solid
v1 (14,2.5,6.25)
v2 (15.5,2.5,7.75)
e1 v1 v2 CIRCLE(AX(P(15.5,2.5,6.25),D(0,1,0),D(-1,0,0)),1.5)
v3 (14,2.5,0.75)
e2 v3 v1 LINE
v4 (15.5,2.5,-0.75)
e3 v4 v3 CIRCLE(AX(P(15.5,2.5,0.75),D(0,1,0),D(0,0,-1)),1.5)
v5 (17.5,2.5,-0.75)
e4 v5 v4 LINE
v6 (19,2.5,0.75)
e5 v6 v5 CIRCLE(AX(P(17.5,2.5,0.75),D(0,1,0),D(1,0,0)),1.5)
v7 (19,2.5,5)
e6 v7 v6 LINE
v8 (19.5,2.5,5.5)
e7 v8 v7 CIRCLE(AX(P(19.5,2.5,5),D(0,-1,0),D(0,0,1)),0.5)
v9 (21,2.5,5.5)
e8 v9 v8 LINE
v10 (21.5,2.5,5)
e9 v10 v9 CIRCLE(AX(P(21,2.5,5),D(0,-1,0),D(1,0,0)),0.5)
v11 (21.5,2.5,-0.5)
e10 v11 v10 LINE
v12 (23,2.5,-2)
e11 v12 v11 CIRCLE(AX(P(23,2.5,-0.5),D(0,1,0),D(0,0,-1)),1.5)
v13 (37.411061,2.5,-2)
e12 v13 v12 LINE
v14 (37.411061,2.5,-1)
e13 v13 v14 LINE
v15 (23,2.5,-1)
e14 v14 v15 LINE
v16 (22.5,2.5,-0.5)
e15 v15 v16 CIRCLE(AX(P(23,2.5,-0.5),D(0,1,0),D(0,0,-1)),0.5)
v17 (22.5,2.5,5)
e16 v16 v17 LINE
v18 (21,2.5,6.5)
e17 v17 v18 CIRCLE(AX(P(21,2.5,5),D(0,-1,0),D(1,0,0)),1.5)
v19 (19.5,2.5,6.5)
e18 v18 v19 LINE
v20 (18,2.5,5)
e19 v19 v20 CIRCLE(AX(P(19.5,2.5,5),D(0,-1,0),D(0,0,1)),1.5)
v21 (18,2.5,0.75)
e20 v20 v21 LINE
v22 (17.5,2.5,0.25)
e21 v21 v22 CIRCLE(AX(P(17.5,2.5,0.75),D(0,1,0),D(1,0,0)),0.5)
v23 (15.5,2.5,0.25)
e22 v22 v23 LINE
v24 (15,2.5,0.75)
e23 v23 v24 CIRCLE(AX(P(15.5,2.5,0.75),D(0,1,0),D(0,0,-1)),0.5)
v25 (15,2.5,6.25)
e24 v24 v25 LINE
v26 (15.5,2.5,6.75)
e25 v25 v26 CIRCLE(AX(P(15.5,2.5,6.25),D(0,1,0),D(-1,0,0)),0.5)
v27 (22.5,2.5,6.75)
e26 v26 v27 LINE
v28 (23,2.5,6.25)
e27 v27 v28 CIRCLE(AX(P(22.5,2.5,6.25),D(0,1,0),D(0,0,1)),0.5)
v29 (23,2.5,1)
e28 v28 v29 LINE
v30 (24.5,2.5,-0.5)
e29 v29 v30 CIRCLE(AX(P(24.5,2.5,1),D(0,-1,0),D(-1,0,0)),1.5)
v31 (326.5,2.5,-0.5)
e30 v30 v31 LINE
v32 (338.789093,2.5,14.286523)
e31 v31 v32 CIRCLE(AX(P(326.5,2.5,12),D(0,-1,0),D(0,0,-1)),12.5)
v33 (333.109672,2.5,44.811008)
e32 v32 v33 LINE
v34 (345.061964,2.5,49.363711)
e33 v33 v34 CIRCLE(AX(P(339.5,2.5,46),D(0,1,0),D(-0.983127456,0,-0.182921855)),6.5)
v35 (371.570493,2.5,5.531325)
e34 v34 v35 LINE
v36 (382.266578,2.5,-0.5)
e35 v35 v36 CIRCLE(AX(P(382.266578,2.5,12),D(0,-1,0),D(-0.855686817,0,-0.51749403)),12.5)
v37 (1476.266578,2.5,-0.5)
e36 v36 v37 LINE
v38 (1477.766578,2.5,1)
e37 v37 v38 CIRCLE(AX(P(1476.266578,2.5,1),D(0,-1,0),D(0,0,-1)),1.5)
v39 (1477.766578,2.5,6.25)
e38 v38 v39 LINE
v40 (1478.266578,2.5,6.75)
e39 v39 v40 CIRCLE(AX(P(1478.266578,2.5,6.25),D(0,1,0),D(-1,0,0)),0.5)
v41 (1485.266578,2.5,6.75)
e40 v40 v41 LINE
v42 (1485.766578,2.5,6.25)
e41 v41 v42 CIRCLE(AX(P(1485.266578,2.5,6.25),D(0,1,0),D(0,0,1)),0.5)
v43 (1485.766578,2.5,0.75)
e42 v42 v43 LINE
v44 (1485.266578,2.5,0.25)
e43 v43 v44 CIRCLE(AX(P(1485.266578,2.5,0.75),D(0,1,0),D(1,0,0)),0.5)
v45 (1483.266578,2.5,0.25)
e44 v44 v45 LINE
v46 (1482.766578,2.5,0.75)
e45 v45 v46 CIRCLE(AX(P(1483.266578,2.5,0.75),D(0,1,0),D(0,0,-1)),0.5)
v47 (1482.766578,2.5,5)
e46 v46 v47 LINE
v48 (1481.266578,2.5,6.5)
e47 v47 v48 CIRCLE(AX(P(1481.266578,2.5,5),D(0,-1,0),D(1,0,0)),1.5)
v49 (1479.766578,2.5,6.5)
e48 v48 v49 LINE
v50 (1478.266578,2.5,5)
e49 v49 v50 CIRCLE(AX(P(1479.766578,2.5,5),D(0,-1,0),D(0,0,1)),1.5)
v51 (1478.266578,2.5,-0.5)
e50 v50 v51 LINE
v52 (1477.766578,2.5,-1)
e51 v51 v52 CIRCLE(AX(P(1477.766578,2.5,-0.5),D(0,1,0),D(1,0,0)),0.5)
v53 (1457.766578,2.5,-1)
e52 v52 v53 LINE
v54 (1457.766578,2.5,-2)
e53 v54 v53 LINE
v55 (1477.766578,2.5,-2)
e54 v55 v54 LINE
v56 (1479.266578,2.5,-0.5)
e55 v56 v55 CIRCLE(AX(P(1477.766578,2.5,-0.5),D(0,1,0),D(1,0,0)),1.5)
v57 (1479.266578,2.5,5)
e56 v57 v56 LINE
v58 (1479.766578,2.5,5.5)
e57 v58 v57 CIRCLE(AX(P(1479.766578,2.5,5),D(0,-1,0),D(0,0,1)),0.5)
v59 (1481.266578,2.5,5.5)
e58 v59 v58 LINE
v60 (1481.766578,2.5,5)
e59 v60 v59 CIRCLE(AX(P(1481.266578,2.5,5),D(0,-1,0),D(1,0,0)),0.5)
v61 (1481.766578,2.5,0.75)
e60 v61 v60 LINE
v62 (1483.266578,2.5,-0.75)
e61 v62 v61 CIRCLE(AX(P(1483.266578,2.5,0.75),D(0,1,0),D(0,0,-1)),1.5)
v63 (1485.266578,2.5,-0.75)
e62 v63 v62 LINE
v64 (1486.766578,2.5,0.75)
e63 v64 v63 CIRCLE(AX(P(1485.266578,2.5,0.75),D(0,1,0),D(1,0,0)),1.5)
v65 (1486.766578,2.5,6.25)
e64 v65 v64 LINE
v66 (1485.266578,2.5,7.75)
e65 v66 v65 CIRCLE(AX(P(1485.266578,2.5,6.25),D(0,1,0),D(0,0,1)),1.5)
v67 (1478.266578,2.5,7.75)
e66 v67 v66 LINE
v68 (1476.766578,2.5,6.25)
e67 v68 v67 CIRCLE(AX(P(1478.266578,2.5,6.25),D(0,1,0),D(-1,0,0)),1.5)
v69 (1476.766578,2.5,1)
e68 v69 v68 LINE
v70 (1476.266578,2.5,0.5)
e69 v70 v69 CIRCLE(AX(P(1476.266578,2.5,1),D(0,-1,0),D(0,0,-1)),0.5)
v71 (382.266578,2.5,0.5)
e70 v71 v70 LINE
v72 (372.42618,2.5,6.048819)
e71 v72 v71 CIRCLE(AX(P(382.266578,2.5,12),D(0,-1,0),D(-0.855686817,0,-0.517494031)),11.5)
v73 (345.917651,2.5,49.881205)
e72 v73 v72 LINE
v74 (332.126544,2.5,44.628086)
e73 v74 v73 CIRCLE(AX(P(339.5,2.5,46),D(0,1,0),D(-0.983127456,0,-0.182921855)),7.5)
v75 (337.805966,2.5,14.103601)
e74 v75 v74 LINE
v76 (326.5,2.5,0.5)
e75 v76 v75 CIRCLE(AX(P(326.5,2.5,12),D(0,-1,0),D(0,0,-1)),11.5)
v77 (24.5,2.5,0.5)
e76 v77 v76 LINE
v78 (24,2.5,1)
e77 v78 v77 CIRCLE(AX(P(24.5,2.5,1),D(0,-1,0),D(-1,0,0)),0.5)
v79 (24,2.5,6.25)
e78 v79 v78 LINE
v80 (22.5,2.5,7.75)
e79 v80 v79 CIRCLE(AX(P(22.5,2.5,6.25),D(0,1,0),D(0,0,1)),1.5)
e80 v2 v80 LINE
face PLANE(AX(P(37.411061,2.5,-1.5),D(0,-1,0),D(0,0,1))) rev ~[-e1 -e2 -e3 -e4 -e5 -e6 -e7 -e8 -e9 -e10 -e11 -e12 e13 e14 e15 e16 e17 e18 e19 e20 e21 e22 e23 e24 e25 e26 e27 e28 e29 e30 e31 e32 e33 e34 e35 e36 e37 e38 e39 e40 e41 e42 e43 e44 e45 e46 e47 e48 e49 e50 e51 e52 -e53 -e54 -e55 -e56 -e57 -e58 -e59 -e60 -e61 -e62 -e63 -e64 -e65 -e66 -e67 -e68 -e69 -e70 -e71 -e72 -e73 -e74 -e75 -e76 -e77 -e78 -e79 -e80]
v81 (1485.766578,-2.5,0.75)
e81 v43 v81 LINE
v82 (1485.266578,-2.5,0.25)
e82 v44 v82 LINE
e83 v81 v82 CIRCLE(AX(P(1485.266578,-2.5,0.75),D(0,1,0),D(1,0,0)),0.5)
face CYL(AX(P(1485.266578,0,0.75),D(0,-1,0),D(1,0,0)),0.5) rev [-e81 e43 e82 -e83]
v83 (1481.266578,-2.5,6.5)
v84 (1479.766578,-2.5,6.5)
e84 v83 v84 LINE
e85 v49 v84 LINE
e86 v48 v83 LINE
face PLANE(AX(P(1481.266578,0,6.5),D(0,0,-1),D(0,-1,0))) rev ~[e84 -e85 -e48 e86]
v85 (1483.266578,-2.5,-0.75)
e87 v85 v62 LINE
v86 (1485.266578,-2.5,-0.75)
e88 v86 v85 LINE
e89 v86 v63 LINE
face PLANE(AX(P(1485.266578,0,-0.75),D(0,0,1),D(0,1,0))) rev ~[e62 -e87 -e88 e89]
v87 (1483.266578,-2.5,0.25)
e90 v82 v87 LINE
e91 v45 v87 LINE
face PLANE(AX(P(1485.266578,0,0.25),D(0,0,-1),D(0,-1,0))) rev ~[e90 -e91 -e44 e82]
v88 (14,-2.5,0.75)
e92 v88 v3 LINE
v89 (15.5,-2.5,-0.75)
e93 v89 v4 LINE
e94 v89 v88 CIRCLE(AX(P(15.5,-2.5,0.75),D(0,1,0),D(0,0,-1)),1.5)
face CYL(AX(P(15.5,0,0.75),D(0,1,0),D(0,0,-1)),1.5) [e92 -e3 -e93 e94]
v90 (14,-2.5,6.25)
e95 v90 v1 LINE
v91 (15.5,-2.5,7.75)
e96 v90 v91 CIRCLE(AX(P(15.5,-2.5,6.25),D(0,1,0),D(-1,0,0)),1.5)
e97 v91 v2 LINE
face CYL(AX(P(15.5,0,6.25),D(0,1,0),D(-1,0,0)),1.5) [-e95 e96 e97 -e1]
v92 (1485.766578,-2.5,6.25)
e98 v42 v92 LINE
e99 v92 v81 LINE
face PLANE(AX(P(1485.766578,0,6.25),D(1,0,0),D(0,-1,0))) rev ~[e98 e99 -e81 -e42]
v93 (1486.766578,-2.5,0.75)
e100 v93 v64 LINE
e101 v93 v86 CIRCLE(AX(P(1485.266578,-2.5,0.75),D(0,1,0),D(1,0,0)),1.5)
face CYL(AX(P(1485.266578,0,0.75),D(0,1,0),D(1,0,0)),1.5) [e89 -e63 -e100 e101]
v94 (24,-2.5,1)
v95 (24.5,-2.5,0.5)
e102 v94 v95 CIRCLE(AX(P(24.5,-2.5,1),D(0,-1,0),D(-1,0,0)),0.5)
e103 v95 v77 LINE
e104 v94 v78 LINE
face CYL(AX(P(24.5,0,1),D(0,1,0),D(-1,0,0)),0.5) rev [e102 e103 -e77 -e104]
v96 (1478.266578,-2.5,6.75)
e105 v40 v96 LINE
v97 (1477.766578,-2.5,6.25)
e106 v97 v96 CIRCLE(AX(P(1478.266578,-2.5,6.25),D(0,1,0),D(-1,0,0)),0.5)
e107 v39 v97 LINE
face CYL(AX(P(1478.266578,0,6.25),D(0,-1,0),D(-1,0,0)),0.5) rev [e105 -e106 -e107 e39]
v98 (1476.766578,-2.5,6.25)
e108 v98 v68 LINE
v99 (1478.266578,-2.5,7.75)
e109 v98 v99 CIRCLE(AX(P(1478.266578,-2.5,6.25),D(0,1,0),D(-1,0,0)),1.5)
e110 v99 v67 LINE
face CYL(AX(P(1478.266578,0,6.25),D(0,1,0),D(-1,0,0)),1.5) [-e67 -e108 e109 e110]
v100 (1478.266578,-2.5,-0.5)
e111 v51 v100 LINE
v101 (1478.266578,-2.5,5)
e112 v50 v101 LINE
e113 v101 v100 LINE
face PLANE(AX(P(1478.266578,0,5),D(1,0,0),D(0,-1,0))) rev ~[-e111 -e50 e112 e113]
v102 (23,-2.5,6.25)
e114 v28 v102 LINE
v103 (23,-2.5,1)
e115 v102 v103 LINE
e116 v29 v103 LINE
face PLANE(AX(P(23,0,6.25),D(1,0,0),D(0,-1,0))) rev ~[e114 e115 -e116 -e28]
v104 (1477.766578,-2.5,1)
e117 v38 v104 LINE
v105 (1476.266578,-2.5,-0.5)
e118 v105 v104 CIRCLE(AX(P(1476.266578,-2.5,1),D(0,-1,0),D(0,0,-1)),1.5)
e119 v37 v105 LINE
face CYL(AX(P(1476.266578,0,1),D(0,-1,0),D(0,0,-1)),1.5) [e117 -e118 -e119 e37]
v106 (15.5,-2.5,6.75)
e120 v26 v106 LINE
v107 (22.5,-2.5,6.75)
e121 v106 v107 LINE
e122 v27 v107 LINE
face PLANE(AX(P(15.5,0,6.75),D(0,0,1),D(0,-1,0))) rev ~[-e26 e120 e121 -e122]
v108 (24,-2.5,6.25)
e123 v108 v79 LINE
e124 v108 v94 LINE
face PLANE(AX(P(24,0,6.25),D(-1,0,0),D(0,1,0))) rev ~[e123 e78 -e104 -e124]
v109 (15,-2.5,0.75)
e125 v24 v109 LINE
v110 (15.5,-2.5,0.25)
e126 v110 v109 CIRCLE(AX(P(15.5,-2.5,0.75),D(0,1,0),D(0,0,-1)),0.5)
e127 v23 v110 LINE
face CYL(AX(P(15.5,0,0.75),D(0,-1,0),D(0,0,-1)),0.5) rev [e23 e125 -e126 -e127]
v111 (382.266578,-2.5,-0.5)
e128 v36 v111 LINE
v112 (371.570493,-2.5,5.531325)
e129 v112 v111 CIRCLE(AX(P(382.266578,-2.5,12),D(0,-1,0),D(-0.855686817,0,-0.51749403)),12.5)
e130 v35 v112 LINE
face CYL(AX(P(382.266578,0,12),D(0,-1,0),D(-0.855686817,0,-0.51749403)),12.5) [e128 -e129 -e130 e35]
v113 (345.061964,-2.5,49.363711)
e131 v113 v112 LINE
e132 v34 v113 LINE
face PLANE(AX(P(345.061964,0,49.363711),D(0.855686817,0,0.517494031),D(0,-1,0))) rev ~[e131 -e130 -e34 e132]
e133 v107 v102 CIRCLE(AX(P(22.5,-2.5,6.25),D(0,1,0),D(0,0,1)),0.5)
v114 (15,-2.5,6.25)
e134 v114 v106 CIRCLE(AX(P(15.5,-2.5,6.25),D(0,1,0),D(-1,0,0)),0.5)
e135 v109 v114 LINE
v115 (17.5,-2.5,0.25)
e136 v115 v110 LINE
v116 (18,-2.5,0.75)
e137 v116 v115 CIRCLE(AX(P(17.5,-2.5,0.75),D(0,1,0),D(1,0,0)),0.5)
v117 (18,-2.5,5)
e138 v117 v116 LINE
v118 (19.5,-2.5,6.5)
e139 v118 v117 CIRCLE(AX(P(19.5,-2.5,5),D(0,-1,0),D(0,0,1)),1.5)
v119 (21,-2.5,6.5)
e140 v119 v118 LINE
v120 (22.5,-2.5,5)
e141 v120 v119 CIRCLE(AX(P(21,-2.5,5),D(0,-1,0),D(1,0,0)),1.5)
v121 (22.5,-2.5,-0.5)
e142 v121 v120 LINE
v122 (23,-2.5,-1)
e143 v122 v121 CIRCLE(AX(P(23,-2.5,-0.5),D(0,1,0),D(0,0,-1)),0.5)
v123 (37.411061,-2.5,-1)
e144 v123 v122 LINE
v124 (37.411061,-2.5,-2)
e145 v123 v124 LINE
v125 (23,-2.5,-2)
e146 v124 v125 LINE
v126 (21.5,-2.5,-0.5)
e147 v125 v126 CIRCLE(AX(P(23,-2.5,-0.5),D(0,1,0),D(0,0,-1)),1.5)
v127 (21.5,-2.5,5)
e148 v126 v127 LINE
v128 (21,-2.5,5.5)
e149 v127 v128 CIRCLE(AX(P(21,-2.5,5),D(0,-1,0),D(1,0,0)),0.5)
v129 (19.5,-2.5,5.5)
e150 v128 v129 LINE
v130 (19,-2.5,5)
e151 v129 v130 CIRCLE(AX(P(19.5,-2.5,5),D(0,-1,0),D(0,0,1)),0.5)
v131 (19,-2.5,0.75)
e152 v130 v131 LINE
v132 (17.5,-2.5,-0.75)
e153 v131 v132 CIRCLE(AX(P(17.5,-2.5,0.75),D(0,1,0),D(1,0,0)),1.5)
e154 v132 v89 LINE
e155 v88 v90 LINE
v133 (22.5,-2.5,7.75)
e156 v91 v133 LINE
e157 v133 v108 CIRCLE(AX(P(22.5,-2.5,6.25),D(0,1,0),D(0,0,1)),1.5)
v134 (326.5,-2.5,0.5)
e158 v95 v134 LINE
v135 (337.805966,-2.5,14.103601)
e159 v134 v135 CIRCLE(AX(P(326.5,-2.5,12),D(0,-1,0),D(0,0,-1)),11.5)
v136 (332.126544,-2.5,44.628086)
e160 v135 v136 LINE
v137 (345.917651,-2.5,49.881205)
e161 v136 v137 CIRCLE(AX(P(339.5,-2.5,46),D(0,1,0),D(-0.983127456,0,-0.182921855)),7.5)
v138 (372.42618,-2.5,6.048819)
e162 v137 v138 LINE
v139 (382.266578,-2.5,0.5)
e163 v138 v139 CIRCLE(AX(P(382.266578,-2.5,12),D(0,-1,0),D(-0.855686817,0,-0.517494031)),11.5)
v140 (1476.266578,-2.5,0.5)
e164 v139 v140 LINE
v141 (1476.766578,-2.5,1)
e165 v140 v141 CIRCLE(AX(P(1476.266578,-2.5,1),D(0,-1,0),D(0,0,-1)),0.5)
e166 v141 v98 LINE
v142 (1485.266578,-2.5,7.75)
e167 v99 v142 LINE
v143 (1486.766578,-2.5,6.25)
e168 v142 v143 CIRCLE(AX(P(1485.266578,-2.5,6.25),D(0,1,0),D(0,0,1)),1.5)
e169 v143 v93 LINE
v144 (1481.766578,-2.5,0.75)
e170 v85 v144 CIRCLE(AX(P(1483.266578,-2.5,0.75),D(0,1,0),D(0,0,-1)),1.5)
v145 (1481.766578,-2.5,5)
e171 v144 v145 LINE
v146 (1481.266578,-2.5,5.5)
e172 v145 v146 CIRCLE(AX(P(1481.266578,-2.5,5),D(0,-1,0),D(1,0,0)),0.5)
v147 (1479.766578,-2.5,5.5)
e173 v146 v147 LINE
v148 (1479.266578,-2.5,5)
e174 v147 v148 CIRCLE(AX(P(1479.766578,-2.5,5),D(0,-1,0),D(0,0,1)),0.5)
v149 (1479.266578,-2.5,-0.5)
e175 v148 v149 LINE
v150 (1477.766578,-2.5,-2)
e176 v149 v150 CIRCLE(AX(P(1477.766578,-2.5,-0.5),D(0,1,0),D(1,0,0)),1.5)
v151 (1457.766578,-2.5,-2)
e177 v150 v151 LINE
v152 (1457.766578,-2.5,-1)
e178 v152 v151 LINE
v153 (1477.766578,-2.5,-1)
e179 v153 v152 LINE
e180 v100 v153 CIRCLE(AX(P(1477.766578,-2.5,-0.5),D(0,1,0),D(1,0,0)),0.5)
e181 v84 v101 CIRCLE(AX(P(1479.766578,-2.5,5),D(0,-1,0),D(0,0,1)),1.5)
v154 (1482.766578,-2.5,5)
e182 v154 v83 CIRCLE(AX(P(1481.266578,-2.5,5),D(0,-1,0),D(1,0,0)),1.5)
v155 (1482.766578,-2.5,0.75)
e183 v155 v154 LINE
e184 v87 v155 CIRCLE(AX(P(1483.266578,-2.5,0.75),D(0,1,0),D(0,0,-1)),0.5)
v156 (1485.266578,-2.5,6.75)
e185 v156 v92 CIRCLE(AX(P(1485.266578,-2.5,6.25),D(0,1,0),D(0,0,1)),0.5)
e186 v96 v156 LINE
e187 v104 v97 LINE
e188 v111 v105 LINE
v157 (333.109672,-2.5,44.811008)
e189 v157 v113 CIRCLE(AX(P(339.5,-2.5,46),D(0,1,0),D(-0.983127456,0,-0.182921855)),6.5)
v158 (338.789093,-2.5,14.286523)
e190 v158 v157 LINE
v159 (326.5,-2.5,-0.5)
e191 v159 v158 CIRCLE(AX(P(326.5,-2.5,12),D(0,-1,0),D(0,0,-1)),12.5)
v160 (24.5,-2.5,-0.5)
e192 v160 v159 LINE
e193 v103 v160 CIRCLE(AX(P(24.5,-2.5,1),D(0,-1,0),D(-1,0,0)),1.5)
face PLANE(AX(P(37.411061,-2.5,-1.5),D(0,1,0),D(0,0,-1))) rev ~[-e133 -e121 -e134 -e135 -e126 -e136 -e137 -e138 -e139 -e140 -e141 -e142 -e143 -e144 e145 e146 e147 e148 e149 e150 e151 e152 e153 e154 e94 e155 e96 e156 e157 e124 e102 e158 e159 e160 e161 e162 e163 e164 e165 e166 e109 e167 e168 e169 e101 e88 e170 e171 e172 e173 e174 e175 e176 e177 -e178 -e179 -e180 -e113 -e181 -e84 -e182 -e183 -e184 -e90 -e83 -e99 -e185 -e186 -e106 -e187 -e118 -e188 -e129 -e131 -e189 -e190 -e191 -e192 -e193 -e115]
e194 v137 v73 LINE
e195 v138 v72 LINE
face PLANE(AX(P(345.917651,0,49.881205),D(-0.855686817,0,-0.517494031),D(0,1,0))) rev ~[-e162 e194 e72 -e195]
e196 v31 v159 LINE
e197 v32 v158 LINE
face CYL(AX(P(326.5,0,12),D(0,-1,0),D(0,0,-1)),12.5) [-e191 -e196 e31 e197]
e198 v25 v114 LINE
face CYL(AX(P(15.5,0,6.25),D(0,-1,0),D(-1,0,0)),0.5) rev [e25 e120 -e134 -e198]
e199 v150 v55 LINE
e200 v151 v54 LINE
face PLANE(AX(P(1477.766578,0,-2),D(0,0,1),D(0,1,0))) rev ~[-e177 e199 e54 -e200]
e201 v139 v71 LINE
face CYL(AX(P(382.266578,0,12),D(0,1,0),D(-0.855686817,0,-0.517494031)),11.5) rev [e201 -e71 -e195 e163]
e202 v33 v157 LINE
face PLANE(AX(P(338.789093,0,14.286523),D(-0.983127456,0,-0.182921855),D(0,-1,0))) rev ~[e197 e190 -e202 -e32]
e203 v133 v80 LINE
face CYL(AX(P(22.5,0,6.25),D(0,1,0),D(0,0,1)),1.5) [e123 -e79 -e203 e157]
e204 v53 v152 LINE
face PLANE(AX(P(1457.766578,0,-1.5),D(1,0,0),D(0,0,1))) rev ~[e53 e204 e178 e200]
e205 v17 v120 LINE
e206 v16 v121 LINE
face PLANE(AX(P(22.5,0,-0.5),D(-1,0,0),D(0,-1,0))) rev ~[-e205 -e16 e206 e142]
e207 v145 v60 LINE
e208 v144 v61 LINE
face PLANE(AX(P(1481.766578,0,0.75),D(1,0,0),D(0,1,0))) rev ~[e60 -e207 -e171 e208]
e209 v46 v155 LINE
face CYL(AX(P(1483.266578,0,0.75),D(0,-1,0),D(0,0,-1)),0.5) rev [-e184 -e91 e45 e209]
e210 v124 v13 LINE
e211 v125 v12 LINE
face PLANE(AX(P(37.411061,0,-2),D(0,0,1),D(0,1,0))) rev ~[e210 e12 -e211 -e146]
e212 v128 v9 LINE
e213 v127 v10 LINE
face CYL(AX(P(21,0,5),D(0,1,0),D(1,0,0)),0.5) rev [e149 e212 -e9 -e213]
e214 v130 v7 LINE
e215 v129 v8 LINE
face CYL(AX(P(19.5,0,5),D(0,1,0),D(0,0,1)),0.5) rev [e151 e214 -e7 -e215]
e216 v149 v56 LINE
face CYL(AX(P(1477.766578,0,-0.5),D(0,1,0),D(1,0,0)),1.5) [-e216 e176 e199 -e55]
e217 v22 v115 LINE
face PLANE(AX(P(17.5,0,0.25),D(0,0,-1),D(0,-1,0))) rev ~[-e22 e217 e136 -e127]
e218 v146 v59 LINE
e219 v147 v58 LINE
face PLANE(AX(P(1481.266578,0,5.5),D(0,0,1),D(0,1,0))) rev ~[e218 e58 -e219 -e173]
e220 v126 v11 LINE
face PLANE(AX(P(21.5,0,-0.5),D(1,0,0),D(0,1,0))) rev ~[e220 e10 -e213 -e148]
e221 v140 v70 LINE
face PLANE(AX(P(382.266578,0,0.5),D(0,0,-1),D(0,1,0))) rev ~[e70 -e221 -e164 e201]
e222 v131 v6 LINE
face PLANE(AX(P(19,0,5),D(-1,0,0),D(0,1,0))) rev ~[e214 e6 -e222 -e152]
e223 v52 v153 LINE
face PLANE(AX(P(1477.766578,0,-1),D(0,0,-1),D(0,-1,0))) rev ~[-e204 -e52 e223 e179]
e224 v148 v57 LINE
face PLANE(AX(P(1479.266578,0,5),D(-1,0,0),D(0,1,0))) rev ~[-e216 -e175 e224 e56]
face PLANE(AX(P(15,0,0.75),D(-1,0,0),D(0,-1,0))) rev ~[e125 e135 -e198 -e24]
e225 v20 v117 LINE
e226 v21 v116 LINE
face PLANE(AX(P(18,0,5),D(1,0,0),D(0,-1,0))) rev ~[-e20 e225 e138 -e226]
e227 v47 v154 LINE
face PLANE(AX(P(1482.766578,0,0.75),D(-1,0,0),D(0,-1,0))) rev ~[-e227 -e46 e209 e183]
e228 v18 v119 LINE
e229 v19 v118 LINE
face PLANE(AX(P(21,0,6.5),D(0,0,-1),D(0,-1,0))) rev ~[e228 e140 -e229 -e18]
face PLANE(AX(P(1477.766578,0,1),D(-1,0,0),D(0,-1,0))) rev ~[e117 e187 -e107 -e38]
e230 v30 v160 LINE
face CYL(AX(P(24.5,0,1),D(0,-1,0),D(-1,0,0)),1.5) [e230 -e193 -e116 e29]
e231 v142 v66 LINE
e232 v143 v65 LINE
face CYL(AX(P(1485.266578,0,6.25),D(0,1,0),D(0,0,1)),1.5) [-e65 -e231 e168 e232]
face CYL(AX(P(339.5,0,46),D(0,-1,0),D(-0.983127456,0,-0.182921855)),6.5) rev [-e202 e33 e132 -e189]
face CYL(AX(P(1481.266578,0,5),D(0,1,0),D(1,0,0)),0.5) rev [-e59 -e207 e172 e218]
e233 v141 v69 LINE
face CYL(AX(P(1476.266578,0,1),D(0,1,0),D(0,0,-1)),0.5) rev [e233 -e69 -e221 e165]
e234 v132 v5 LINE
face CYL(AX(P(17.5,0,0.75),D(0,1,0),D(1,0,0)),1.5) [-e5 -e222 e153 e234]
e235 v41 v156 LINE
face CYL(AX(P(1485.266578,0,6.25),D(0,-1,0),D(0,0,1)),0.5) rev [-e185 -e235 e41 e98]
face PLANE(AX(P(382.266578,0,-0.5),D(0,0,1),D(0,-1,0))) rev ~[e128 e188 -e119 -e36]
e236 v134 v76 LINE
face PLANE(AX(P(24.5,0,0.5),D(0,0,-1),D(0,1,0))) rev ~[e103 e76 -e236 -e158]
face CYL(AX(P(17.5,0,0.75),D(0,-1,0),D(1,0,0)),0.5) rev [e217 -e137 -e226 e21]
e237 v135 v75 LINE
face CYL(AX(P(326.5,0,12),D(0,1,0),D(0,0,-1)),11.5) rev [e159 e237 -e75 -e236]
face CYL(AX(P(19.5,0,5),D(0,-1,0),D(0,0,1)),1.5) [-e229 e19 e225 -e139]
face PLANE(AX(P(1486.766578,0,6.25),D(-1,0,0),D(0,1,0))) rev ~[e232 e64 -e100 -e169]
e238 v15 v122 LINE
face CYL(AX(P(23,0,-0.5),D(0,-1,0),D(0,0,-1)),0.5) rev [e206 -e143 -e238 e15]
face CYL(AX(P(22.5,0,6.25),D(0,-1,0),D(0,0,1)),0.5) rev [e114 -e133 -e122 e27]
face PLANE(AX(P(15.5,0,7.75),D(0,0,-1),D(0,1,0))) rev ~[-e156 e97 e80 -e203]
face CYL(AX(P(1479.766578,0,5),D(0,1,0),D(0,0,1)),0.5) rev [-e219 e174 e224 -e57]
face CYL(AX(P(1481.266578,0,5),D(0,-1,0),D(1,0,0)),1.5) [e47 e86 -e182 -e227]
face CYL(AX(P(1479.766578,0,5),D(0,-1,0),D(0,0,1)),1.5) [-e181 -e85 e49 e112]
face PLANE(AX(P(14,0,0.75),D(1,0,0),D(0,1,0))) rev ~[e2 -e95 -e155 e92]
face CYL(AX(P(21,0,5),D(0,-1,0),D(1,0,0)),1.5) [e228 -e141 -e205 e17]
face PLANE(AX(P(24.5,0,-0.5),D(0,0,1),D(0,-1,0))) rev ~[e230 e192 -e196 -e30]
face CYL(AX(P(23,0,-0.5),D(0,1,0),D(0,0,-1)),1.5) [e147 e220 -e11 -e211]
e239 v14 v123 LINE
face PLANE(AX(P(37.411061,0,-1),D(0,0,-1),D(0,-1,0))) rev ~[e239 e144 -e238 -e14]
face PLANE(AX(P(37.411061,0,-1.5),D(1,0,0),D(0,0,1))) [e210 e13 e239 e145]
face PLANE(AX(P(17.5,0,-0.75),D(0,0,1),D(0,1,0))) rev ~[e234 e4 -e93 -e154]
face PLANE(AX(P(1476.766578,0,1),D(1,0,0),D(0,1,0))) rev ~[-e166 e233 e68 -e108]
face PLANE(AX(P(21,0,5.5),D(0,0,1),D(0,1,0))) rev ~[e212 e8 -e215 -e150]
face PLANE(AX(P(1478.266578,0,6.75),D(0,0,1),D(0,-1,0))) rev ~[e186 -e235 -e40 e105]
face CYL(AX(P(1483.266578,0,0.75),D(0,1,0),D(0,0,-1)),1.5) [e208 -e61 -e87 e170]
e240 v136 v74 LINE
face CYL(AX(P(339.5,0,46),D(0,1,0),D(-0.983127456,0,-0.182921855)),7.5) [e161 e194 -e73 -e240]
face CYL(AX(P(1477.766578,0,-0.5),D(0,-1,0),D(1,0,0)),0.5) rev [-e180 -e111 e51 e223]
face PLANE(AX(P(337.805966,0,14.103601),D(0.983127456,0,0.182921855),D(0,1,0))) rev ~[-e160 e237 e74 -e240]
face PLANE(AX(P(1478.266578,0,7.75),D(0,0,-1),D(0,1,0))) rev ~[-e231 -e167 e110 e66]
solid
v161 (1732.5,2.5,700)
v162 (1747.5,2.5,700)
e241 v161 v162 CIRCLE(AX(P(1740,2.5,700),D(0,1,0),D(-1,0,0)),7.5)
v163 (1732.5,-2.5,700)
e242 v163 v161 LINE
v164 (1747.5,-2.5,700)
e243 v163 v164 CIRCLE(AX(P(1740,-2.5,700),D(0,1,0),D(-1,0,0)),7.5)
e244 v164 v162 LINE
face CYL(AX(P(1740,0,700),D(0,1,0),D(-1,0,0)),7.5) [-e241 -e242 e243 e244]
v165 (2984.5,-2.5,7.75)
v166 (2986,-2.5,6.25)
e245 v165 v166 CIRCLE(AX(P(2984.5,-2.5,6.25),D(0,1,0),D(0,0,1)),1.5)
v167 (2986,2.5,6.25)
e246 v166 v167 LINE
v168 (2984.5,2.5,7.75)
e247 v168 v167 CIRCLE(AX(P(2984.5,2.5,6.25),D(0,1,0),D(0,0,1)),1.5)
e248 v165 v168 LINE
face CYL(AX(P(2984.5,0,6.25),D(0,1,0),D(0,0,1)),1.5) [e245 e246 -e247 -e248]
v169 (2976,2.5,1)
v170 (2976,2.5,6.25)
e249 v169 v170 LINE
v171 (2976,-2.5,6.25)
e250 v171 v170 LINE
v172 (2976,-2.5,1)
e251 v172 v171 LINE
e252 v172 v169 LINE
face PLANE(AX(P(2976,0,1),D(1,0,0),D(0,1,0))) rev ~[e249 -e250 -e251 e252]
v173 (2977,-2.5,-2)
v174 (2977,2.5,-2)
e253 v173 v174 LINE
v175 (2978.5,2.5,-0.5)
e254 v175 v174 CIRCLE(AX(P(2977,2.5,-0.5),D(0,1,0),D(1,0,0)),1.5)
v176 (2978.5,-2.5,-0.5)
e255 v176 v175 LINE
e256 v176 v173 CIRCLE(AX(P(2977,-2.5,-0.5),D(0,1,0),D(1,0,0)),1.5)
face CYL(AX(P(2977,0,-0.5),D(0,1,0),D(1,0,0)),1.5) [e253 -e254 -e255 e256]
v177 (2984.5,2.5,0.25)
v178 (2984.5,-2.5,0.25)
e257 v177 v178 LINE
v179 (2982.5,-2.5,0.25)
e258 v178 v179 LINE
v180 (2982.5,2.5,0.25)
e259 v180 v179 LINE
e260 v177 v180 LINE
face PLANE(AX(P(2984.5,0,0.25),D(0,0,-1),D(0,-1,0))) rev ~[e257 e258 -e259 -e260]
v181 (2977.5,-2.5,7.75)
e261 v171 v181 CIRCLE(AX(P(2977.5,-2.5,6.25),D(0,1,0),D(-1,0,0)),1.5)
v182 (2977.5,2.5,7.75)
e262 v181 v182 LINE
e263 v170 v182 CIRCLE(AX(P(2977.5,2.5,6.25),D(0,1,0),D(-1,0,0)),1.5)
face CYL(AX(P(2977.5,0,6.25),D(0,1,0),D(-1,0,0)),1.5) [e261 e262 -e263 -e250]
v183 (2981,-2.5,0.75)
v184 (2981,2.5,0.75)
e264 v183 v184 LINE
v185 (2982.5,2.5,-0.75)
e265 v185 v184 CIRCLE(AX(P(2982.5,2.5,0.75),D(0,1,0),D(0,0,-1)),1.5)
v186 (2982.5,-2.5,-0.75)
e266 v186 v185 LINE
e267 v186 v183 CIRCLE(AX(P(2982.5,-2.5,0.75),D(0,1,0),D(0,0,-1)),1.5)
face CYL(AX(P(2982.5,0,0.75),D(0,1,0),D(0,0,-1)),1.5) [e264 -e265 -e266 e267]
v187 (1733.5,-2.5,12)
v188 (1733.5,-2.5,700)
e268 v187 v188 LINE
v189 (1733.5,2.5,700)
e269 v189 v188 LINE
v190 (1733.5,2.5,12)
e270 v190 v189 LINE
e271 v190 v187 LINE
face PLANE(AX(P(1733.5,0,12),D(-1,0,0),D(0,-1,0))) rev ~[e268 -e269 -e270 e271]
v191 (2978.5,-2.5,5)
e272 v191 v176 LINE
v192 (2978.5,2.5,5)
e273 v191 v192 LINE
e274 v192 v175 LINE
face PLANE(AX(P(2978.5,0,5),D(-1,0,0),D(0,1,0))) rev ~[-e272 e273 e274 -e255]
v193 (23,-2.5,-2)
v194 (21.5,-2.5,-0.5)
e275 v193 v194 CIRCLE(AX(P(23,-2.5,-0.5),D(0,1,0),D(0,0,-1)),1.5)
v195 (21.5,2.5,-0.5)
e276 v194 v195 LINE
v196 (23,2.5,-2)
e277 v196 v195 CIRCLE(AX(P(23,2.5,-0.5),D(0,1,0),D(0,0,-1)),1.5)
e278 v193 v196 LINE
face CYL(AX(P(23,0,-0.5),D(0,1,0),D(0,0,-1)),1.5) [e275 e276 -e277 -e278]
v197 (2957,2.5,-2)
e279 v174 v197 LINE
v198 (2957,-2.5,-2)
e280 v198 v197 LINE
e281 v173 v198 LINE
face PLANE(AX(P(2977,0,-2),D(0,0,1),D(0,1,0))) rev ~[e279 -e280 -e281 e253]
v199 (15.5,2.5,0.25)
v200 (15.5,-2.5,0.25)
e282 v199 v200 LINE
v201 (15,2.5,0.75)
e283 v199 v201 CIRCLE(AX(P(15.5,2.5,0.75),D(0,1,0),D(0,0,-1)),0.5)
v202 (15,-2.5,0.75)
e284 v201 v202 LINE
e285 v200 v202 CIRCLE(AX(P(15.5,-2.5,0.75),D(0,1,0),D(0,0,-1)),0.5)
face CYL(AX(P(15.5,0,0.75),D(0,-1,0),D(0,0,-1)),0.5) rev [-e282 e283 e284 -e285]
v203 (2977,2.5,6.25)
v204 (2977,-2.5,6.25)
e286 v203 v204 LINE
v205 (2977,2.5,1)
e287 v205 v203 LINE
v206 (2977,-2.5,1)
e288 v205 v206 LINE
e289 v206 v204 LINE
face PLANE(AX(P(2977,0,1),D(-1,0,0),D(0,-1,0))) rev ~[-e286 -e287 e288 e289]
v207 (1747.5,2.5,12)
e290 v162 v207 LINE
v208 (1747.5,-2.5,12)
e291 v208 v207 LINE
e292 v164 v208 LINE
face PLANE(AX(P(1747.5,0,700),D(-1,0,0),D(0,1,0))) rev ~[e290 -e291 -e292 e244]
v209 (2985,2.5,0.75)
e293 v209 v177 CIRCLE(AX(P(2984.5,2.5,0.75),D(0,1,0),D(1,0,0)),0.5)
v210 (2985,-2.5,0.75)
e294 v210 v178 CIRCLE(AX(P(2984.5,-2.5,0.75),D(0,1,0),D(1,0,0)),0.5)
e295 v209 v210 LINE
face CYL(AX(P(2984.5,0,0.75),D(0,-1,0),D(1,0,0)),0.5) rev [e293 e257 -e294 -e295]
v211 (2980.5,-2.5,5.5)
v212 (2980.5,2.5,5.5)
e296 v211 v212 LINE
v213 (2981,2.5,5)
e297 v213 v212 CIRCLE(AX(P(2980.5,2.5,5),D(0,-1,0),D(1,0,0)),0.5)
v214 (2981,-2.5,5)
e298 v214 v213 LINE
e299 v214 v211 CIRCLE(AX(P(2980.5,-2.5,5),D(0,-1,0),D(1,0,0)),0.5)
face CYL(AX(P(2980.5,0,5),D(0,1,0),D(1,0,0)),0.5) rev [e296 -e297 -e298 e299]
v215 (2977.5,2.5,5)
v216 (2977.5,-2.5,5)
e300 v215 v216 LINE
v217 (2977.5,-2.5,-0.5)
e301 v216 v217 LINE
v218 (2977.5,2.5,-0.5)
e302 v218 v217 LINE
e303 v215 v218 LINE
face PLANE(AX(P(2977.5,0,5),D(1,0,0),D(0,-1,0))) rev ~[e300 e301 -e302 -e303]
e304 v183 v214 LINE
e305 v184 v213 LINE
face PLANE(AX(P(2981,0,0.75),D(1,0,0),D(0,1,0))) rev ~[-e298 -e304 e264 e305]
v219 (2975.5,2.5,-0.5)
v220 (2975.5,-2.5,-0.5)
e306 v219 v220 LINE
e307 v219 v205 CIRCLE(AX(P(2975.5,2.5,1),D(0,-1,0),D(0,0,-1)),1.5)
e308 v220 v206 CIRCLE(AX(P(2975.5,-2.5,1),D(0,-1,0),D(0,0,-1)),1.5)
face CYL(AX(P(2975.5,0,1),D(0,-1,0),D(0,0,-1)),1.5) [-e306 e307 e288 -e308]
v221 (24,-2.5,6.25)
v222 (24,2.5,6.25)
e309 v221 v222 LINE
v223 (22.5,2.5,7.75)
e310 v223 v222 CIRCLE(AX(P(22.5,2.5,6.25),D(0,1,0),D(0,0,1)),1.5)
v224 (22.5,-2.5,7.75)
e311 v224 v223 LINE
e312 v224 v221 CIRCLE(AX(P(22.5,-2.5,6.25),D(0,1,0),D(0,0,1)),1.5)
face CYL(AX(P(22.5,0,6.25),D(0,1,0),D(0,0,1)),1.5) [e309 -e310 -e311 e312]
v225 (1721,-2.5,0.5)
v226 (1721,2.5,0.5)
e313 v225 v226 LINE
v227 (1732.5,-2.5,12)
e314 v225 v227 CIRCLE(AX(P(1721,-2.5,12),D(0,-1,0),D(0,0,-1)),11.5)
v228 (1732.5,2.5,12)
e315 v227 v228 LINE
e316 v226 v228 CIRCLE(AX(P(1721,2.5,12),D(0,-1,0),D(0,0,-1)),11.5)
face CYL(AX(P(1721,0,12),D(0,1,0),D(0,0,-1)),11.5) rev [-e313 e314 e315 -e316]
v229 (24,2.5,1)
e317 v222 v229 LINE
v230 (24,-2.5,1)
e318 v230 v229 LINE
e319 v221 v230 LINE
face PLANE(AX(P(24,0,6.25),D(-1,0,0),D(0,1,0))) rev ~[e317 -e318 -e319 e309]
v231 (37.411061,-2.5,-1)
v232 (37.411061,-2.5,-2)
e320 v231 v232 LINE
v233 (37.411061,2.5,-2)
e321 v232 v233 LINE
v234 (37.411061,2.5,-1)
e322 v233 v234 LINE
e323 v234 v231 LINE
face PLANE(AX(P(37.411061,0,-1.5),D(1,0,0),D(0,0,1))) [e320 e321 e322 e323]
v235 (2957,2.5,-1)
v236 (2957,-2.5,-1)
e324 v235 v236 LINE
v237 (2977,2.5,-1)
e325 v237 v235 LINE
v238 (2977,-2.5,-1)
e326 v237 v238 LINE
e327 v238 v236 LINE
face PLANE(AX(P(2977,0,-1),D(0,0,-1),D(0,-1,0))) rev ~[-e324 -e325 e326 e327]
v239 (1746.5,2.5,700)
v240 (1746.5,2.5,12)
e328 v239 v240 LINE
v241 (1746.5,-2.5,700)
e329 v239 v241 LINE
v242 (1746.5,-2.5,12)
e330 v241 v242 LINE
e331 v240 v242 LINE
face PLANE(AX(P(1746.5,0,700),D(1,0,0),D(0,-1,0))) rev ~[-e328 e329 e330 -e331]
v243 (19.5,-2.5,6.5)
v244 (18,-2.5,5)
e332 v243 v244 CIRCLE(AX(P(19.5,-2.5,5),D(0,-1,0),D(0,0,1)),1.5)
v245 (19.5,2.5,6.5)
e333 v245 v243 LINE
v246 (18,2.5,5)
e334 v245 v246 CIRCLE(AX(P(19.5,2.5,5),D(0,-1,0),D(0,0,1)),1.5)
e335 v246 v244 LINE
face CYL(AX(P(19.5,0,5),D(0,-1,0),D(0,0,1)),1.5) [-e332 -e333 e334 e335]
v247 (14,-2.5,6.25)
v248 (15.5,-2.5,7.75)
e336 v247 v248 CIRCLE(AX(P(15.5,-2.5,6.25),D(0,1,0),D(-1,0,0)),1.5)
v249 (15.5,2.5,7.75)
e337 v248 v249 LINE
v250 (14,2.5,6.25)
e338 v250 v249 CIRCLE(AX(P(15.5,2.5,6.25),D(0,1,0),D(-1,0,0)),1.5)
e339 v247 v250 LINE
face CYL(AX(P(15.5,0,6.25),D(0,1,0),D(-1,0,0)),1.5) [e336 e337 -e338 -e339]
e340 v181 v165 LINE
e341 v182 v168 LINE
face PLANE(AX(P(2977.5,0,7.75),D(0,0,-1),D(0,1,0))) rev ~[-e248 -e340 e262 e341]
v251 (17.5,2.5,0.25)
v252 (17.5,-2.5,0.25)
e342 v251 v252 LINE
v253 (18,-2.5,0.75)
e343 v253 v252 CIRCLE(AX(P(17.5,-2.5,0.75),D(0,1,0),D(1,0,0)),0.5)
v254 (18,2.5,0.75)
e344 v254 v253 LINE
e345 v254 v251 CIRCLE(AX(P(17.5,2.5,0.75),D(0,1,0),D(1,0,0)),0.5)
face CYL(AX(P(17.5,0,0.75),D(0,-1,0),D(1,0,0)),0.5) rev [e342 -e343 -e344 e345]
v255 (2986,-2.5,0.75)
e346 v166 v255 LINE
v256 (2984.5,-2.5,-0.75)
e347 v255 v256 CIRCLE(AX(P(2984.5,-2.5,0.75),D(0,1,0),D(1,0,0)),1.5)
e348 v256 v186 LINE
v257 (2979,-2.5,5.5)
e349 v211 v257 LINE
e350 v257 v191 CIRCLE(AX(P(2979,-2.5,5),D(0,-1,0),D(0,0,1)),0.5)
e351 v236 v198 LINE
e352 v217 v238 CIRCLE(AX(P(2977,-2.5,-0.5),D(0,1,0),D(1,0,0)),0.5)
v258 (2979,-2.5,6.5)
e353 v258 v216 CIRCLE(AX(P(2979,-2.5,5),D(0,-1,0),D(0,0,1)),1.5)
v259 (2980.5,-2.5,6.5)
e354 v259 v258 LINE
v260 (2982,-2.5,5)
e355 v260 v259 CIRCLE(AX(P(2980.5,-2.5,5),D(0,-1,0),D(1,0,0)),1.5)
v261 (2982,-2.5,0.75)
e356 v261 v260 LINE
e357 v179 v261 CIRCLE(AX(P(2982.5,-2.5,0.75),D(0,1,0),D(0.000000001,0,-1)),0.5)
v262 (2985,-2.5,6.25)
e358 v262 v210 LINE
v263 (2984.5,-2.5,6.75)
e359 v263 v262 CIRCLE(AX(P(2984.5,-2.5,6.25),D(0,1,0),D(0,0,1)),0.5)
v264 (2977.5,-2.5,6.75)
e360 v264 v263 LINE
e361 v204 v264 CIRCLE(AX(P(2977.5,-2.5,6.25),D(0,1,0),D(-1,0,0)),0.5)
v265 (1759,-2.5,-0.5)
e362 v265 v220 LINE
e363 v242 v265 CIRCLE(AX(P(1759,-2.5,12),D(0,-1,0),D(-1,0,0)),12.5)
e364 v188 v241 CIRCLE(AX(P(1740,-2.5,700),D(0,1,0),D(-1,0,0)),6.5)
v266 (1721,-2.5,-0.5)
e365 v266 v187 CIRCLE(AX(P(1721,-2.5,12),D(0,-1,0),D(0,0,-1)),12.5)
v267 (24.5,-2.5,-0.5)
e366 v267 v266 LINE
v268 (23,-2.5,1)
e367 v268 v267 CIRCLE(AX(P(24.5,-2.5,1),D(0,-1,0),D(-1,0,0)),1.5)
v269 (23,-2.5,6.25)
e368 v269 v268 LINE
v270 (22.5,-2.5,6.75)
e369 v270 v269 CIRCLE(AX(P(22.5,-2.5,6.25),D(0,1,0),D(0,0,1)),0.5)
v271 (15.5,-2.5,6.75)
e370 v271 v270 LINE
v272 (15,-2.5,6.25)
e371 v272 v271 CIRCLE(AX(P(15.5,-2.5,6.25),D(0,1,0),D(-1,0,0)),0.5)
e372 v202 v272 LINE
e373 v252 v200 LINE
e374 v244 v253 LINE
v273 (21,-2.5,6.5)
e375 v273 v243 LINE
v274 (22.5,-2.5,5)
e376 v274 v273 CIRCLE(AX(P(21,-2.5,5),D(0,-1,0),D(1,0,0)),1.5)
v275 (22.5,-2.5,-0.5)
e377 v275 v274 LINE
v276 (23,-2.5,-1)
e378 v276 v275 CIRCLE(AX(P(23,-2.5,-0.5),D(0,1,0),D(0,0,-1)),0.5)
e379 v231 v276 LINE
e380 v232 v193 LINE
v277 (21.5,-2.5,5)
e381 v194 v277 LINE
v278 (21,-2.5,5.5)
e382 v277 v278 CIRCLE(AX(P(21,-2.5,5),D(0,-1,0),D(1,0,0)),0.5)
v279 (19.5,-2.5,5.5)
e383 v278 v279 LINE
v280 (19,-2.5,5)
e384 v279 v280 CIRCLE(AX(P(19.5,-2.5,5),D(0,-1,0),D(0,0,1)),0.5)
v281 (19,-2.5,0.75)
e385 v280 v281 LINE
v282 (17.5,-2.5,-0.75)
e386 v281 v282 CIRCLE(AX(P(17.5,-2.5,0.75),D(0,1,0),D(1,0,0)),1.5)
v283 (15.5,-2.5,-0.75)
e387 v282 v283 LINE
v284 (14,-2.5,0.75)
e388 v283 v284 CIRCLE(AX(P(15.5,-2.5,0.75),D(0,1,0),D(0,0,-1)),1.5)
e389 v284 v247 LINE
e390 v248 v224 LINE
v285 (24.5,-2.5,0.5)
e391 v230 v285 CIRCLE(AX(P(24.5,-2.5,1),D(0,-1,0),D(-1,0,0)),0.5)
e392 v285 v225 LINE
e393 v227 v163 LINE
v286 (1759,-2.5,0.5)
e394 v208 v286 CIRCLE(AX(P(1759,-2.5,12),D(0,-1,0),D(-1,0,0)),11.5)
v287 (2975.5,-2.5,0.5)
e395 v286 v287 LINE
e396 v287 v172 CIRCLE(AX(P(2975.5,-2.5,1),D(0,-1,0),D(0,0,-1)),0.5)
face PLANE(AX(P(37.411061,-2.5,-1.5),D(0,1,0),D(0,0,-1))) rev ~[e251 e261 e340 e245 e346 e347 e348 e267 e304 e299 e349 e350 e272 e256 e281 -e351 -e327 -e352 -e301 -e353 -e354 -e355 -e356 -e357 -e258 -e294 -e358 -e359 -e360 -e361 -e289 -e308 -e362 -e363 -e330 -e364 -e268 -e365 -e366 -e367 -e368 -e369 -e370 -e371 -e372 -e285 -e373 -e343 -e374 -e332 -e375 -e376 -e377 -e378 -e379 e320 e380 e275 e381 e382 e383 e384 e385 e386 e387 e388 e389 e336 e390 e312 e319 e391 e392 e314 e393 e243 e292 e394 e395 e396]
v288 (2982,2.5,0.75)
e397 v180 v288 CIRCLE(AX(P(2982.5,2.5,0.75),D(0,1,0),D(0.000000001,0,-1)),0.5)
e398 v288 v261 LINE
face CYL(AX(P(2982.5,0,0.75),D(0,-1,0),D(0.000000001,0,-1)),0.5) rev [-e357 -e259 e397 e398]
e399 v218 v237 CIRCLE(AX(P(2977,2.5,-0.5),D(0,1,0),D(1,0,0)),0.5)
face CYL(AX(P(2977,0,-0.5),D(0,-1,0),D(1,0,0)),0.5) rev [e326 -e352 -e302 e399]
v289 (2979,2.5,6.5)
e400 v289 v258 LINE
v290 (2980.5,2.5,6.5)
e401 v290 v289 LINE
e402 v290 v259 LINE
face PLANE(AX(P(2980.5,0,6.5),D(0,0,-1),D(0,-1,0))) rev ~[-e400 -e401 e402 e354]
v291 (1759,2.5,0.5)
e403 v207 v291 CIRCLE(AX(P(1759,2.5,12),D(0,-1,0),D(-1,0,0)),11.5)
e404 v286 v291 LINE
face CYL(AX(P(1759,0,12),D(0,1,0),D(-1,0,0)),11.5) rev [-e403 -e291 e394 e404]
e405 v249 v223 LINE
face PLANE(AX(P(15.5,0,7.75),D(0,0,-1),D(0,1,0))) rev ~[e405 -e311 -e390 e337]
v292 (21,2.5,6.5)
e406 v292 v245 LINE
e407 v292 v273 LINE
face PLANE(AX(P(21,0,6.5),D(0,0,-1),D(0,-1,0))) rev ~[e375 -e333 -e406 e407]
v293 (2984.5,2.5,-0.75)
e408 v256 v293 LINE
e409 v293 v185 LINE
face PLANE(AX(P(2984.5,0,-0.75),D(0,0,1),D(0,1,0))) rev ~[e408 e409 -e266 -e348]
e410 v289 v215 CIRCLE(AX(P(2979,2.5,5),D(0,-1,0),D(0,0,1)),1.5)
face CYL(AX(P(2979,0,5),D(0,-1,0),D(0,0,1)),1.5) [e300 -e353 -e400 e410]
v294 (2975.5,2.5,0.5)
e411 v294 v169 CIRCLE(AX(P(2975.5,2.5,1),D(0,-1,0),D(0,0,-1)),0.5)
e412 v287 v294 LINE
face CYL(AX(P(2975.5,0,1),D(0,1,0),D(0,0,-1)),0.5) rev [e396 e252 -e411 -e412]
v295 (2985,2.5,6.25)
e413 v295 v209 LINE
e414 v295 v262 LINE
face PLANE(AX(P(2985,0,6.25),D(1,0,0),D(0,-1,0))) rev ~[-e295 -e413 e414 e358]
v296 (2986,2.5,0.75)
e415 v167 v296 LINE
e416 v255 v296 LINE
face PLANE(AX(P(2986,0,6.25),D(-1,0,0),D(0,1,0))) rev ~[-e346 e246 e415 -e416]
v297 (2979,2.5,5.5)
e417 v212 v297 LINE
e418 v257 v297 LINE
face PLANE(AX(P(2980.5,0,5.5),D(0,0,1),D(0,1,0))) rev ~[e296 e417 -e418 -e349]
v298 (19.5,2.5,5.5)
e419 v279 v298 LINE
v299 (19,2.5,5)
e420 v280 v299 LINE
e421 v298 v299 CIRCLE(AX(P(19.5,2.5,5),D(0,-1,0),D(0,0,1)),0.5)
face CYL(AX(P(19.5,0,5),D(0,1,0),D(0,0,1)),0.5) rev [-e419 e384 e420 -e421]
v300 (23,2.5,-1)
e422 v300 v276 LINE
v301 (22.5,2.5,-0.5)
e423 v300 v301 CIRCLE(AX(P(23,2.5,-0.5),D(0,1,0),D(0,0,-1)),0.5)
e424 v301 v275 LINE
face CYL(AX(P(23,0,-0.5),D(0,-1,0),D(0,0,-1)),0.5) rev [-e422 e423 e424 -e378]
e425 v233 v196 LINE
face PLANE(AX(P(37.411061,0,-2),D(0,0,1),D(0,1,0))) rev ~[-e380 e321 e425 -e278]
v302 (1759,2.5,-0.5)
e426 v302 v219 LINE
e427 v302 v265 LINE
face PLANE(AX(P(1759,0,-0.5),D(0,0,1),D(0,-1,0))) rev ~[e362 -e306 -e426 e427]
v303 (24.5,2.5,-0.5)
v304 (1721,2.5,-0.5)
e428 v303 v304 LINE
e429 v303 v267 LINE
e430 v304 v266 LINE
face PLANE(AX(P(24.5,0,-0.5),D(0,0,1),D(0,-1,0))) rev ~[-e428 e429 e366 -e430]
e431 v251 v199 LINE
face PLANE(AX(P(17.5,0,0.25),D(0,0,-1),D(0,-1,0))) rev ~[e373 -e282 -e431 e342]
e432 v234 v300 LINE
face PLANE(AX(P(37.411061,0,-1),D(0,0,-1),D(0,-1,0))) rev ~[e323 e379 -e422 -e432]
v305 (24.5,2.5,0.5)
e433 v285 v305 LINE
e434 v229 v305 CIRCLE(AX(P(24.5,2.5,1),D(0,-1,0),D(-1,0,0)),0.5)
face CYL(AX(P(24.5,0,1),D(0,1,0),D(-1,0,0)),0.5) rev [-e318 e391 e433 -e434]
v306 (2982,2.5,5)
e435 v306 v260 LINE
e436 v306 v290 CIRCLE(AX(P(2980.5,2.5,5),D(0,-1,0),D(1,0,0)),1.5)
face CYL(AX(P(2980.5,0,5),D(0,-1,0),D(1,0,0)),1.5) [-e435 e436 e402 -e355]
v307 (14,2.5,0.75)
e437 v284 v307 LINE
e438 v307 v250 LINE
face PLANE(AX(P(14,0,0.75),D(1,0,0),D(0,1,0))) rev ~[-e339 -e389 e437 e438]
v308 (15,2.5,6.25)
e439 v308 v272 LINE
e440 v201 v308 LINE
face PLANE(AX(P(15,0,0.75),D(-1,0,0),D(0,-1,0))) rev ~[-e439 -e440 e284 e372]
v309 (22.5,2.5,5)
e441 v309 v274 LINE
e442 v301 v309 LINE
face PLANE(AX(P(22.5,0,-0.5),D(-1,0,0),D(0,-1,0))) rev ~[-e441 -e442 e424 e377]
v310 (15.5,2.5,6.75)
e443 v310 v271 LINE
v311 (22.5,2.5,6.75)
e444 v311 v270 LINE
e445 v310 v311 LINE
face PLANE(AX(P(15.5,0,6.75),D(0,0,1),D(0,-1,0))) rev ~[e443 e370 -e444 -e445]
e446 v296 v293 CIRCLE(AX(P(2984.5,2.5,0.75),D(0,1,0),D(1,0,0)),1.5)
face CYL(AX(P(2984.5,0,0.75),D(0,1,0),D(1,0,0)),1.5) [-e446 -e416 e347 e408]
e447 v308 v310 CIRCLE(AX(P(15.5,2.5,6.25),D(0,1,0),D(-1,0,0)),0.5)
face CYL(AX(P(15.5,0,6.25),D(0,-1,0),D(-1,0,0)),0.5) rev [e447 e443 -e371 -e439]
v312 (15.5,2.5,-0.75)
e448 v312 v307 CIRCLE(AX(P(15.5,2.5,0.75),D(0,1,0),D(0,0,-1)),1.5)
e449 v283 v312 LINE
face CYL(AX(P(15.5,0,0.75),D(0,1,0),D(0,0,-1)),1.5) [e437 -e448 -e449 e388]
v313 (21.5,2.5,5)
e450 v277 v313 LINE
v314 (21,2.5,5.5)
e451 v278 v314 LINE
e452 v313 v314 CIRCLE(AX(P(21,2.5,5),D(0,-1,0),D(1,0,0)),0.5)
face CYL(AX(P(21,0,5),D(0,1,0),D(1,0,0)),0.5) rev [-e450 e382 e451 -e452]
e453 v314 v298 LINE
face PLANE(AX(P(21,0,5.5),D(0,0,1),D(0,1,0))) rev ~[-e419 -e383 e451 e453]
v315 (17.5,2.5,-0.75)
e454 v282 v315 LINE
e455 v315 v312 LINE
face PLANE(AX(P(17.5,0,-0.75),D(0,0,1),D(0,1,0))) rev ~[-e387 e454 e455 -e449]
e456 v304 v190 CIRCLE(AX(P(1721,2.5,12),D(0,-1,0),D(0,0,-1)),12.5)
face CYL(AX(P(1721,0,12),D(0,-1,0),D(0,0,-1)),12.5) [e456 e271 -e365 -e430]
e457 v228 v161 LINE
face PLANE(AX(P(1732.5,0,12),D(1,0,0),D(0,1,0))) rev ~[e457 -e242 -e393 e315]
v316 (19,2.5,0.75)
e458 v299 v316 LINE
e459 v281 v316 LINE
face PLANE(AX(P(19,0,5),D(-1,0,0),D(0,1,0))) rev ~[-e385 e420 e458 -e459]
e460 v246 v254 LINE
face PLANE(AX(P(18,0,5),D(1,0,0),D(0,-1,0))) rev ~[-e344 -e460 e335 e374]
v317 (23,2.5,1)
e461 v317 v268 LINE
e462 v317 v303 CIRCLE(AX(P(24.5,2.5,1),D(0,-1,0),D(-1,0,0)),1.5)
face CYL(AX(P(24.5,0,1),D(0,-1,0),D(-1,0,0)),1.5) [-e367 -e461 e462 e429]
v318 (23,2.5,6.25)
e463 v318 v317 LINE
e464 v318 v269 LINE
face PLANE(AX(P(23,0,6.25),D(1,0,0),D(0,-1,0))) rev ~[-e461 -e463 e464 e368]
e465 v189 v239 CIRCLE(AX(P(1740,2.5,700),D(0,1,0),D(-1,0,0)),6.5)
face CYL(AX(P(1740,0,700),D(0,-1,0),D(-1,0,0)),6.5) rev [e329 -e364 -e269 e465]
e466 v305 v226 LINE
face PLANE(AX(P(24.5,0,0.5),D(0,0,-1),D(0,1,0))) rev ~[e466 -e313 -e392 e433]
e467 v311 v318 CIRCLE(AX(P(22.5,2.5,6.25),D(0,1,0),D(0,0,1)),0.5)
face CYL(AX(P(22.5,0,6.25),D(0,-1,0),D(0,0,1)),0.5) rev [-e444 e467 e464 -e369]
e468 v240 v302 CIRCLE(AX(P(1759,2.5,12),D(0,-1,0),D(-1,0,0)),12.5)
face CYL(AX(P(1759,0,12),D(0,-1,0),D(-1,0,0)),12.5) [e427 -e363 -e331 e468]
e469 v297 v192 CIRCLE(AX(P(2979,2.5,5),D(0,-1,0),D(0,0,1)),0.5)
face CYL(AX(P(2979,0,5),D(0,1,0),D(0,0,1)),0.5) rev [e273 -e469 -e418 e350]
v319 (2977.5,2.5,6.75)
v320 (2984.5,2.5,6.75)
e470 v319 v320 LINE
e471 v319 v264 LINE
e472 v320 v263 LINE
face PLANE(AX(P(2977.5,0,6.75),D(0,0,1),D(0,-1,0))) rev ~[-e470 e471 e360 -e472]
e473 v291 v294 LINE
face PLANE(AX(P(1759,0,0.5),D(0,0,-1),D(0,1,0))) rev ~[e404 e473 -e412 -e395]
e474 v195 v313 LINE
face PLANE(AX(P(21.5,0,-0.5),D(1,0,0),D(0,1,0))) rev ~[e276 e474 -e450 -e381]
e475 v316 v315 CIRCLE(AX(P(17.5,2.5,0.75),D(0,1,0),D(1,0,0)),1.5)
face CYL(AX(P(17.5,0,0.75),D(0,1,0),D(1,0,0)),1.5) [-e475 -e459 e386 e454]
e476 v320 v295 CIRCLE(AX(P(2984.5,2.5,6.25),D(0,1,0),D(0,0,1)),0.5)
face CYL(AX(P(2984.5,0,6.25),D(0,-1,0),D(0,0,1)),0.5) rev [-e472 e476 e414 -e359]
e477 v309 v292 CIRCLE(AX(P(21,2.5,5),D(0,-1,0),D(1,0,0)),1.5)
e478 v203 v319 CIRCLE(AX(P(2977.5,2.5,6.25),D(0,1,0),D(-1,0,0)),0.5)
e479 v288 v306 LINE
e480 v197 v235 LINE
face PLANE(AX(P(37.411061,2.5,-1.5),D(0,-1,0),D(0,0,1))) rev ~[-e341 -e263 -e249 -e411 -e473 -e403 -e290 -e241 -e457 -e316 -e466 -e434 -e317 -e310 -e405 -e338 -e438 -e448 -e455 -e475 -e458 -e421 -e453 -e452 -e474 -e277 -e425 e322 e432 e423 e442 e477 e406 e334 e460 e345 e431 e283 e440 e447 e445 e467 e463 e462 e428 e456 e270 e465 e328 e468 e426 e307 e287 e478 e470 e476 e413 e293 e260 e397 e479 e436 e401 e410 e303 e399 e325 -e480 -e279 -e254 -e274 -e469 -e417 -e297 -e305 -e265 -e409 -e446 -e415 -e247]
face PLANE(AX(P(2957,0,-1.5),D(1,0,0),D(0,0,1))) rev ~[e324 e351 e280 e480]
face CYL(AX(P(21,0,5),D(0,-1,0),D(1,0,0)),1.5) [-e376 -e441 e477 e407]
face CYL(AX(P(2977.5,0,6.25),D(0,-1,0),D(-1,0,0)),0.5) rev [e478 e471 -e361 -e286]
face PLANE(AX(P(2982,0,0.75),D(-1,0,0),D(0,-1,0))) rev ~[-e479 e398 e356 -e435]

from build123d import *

# Parameters (mm, degrees)
F2_W = 5
F2_H = 1


with BuildPart() as f3:
    # F3: sweep along a path in F0
    with BuildLine(Plane.XZ) as f3_path:
        Line((37.4110606218, -1.5), (23, -1.5))
        ThreePointArc((23, -1.5), (22.2928932188, -1.2071067812), (22, -0.5))
        Line((22, -0.5), (22, 5))
        ThreePointArc((22, 5), (21.7071067812, 5.7071067812), (21, 6))
        Line((21, 6), (19.5, 6))
        ThreePointArc((19.5, 6), (18.7928932188, 5.7071067812), (18.5, 5))
        Line((18.5, 5), (18.5, 0.75))
        ThreePointArc((18.5, 0.75), (18.2071067812, 0.0428932188), (17.5, -0.25))
        Line((17.5, -0.25), (15.5, -0.25))
        ThreePointArc((15.5, -0.25), (14.7928932188, 0.0428932188), (14.5, 0.75))
        Line((14.5, 0.75), (14.5, 6.25))
        ThreePointArc((14.5, 6.25), (14.7928932188, 6.9571067812), (15.5, 7.25))
        Line((15.5, 7.25), (22.5, 7.25))
        ThreePointArc((22.5, 7.25), (23.2071067812, 6.9571067812), (23.5, 6.25))
        Line((23.5, 6.25), (23.5, 1))
        ThreePointArc((23.5, 1), (23.7928932188, 0.2928932188), (24.5, 0))
        Line((24.5, 0), (1721, 0))
        ThreePointArc((1721, 0), (1729.4852813742, 3.5147186258), (1733, 12))
        Line((1733, 12), (1733, 700))
        ThreePointArc((1733, 700), (1740, 707), (1747, 700))
        Line((1747, 700), (1747, 12))
        ThreePointArc((1747, 12), (1750.5147186258, 3.5147186258), (1759, 0))
        Line((1759, 0), (2975.5, 0))
        ThreePointArc((2975.5, 0), (2976.2071067812, 0.2928932188), (2976.5, 1))
        Line((2976.5, 1), (2976.5, 6.25))
        ThreePointArc((2976.5, 6.25), (2976.7928932188, 6.9571067812), (2977.5, 7.25))
        Line((2977.5, 7.25), (2984.5, 7.25))
        ThreePointArc((2984.5, 7.25), (2985.2071067812, 6.9571067812), (2985.5, 6.25))
        Line((2985.5, 6.25), (2985.5, 0.75))
        ThreePointArc((2985.5, 0.75), (2985.2071067812, 0.0428932188), (2984.5, -0.25))
        Line((2984.5, -0.25), (2982.5, -0.25))
        ThreePointArc((2982.5, -0.25), (2981.7928932188, 0.0428932188), (2981.5, 0.75))
        Line((2981.5, 0.75), (2981.5, 5))
        ThreePointArc((2981.5, 5), (2981.2071067812, 5.7071067812), (2980.5, 6))
        Line((2980.5, 6), (2979, 6))
        ThreePointArc((2979, 6), (2978.2928932188, 5.7071067812), (2978, 5))
        Line((2978, 5), (2978, -0.5))
        ThreePointArc((2978, -0.5), (2977.7071067812, -1.2071067812), (2977, -1.5))
        Line((2977, -1.5), (2957, -1.5))
    # F2 (on plane+point) → F3 (sweep)
    with BuildSketch(Plane.YZ.offset(37.4110606218)):
        with Locations((0, -1.5)):
            Rectangle(F2_W, F2_H)
    sweep(path=f3_path.line)


with BuildPart() as f5:
    # F5: sweep along a path in F4
    with BuildLine(Plane.XZ) as f5_path:
        Line((37.4110606218, -1.5), (23, -1.5))
        ThreePointArc((23, -1.5), (22.2928932188, -1.2071067812), (22, -0.5))
        Line((22, -0.5), (22, 5))
        ThreePointArc((22, 5), (21.7071067812, 5.7071067812), (21, 6))
        Line((21, 6), (19.5, 6))
        ThreePointArc((19.5, 6), (18.7928932188, 5.7071067812), (18.5, 5))
        Line((18.5, 5), (18.5, 0.75))
        ThreePointArc((18.5, 0.75), (18.2071067812, 0.0428932188), (17.5, -0.25))
        Line((17.5, -0.25), (15.5, -0.25))
        ThreePointArc((15.5, -0.25), (14.7928932188, 0.0428932188), (14.5, 0.75))
        Line((14.5, 0.75), (14.5, 6.25))
        ThreePointArc((14.5, 6.25), (14.7928932188, 6.9571067812), (15.5, 7.25))
        Line((15.5, 7.25), (22.5, 7.25))
        ThreePointArc((22.5, 7.25), (23.2071067812, 6.9571067812), (23.5, 6.25))
        Line((23.5, 6.25), (23.5, 1))
        ThreePointArc((23.5, 1), (23.7928932188, 0.2928932188), (24.5, 0))
        Line((24.5, 0), (326.5, 0))
        ThreePointArc((326.5, 0), (335.7287796355, 4.3299526443), (338.2975294733, 14.1950622602))
        Line((338.2975294733, 14.1950622602), (332.6181078072, 44.7195470149))
        ThreePointArc((332.6181078072, 44.7195470149), (337.0082961184, 52.5415144857), (345.4898077174, 49.6224582136))
        Line((345.4898077174, 49.6224582136), (371.998336251, 5.7900716339))
        ThreePointArc((371.998336251, 5.7900716339), (376.3724767803, 1.5472697252), (382.2665780522, 0))
        Line((382.2665780522, 0), (1476.2665780522, 0))
        ThreePointArc((1476.2665780522, 0), (1476.9736848334, 0.2928932188), (1477.2665780522, 1))
        Line((1477.2665780522, 1), (1477.2665780522, 6.25))
        ThreePointArc((1477.2665780522, 6.25), (1477.559471271, 6.9571067812), (1478.2665780522, 7.25))
        Line((1478.2665780522, 7.25), (1485.2665780522, 7.25))
        ThreePointArc((1485.2665780522, 7.25), (1485.9736848334, 6.9571067812), (1486.2665780522, 6.25))
        Line((1486.2665780522, 6.25), (1486.2665780522, 0.75))
        ThreePointArc((1486.2665780522, 0.75), (1485.9736848334, 0.0428932188), (1485.2665780522, -0.25))
        Line((1485.2665780522, -0.25), (1483.2665780522, -0.25))
        ThreePointArc((1483.2665780522, -0.25), (1482.559471271, 0.0428932188), (1482.2665780522, 0.75))
        Line((1482.2665780522, 0.75), (1482.2665780522, 5))
        ThreePointArc((1482.2665780522, 5), (1481.9736848334, 5.7071067812), (1481.2665780522, 6))
        Line((1481.2665780522, 6), (1479.7665780522, 6))
        ThreePointArc((1479.7665780522, 6), (1479.059471271, 5.7071067812), (1478.7665780522, 5))
        Line((1478.7665780522, 5), (1478.7665780522, -0.5))
        ThreePointArc((1478.7665780522, -0.5), (1478.4736848334, -1.2071067812), (1477.7665780522, -1.5))
        Line((1477.7665780522, -1.5), (1457.7665780522, -1.5))
    # F2 (on plane+point) → F5 (sweep)
    with BuildSketch(Plane.YZ.offset(37.4110606218)):
        with Locations((0, -1.5)):
            Rectangle(F2_W, F2_H)
    sweep(path=f5_path.line)


solid = Compound([f3.part, f5.part])
